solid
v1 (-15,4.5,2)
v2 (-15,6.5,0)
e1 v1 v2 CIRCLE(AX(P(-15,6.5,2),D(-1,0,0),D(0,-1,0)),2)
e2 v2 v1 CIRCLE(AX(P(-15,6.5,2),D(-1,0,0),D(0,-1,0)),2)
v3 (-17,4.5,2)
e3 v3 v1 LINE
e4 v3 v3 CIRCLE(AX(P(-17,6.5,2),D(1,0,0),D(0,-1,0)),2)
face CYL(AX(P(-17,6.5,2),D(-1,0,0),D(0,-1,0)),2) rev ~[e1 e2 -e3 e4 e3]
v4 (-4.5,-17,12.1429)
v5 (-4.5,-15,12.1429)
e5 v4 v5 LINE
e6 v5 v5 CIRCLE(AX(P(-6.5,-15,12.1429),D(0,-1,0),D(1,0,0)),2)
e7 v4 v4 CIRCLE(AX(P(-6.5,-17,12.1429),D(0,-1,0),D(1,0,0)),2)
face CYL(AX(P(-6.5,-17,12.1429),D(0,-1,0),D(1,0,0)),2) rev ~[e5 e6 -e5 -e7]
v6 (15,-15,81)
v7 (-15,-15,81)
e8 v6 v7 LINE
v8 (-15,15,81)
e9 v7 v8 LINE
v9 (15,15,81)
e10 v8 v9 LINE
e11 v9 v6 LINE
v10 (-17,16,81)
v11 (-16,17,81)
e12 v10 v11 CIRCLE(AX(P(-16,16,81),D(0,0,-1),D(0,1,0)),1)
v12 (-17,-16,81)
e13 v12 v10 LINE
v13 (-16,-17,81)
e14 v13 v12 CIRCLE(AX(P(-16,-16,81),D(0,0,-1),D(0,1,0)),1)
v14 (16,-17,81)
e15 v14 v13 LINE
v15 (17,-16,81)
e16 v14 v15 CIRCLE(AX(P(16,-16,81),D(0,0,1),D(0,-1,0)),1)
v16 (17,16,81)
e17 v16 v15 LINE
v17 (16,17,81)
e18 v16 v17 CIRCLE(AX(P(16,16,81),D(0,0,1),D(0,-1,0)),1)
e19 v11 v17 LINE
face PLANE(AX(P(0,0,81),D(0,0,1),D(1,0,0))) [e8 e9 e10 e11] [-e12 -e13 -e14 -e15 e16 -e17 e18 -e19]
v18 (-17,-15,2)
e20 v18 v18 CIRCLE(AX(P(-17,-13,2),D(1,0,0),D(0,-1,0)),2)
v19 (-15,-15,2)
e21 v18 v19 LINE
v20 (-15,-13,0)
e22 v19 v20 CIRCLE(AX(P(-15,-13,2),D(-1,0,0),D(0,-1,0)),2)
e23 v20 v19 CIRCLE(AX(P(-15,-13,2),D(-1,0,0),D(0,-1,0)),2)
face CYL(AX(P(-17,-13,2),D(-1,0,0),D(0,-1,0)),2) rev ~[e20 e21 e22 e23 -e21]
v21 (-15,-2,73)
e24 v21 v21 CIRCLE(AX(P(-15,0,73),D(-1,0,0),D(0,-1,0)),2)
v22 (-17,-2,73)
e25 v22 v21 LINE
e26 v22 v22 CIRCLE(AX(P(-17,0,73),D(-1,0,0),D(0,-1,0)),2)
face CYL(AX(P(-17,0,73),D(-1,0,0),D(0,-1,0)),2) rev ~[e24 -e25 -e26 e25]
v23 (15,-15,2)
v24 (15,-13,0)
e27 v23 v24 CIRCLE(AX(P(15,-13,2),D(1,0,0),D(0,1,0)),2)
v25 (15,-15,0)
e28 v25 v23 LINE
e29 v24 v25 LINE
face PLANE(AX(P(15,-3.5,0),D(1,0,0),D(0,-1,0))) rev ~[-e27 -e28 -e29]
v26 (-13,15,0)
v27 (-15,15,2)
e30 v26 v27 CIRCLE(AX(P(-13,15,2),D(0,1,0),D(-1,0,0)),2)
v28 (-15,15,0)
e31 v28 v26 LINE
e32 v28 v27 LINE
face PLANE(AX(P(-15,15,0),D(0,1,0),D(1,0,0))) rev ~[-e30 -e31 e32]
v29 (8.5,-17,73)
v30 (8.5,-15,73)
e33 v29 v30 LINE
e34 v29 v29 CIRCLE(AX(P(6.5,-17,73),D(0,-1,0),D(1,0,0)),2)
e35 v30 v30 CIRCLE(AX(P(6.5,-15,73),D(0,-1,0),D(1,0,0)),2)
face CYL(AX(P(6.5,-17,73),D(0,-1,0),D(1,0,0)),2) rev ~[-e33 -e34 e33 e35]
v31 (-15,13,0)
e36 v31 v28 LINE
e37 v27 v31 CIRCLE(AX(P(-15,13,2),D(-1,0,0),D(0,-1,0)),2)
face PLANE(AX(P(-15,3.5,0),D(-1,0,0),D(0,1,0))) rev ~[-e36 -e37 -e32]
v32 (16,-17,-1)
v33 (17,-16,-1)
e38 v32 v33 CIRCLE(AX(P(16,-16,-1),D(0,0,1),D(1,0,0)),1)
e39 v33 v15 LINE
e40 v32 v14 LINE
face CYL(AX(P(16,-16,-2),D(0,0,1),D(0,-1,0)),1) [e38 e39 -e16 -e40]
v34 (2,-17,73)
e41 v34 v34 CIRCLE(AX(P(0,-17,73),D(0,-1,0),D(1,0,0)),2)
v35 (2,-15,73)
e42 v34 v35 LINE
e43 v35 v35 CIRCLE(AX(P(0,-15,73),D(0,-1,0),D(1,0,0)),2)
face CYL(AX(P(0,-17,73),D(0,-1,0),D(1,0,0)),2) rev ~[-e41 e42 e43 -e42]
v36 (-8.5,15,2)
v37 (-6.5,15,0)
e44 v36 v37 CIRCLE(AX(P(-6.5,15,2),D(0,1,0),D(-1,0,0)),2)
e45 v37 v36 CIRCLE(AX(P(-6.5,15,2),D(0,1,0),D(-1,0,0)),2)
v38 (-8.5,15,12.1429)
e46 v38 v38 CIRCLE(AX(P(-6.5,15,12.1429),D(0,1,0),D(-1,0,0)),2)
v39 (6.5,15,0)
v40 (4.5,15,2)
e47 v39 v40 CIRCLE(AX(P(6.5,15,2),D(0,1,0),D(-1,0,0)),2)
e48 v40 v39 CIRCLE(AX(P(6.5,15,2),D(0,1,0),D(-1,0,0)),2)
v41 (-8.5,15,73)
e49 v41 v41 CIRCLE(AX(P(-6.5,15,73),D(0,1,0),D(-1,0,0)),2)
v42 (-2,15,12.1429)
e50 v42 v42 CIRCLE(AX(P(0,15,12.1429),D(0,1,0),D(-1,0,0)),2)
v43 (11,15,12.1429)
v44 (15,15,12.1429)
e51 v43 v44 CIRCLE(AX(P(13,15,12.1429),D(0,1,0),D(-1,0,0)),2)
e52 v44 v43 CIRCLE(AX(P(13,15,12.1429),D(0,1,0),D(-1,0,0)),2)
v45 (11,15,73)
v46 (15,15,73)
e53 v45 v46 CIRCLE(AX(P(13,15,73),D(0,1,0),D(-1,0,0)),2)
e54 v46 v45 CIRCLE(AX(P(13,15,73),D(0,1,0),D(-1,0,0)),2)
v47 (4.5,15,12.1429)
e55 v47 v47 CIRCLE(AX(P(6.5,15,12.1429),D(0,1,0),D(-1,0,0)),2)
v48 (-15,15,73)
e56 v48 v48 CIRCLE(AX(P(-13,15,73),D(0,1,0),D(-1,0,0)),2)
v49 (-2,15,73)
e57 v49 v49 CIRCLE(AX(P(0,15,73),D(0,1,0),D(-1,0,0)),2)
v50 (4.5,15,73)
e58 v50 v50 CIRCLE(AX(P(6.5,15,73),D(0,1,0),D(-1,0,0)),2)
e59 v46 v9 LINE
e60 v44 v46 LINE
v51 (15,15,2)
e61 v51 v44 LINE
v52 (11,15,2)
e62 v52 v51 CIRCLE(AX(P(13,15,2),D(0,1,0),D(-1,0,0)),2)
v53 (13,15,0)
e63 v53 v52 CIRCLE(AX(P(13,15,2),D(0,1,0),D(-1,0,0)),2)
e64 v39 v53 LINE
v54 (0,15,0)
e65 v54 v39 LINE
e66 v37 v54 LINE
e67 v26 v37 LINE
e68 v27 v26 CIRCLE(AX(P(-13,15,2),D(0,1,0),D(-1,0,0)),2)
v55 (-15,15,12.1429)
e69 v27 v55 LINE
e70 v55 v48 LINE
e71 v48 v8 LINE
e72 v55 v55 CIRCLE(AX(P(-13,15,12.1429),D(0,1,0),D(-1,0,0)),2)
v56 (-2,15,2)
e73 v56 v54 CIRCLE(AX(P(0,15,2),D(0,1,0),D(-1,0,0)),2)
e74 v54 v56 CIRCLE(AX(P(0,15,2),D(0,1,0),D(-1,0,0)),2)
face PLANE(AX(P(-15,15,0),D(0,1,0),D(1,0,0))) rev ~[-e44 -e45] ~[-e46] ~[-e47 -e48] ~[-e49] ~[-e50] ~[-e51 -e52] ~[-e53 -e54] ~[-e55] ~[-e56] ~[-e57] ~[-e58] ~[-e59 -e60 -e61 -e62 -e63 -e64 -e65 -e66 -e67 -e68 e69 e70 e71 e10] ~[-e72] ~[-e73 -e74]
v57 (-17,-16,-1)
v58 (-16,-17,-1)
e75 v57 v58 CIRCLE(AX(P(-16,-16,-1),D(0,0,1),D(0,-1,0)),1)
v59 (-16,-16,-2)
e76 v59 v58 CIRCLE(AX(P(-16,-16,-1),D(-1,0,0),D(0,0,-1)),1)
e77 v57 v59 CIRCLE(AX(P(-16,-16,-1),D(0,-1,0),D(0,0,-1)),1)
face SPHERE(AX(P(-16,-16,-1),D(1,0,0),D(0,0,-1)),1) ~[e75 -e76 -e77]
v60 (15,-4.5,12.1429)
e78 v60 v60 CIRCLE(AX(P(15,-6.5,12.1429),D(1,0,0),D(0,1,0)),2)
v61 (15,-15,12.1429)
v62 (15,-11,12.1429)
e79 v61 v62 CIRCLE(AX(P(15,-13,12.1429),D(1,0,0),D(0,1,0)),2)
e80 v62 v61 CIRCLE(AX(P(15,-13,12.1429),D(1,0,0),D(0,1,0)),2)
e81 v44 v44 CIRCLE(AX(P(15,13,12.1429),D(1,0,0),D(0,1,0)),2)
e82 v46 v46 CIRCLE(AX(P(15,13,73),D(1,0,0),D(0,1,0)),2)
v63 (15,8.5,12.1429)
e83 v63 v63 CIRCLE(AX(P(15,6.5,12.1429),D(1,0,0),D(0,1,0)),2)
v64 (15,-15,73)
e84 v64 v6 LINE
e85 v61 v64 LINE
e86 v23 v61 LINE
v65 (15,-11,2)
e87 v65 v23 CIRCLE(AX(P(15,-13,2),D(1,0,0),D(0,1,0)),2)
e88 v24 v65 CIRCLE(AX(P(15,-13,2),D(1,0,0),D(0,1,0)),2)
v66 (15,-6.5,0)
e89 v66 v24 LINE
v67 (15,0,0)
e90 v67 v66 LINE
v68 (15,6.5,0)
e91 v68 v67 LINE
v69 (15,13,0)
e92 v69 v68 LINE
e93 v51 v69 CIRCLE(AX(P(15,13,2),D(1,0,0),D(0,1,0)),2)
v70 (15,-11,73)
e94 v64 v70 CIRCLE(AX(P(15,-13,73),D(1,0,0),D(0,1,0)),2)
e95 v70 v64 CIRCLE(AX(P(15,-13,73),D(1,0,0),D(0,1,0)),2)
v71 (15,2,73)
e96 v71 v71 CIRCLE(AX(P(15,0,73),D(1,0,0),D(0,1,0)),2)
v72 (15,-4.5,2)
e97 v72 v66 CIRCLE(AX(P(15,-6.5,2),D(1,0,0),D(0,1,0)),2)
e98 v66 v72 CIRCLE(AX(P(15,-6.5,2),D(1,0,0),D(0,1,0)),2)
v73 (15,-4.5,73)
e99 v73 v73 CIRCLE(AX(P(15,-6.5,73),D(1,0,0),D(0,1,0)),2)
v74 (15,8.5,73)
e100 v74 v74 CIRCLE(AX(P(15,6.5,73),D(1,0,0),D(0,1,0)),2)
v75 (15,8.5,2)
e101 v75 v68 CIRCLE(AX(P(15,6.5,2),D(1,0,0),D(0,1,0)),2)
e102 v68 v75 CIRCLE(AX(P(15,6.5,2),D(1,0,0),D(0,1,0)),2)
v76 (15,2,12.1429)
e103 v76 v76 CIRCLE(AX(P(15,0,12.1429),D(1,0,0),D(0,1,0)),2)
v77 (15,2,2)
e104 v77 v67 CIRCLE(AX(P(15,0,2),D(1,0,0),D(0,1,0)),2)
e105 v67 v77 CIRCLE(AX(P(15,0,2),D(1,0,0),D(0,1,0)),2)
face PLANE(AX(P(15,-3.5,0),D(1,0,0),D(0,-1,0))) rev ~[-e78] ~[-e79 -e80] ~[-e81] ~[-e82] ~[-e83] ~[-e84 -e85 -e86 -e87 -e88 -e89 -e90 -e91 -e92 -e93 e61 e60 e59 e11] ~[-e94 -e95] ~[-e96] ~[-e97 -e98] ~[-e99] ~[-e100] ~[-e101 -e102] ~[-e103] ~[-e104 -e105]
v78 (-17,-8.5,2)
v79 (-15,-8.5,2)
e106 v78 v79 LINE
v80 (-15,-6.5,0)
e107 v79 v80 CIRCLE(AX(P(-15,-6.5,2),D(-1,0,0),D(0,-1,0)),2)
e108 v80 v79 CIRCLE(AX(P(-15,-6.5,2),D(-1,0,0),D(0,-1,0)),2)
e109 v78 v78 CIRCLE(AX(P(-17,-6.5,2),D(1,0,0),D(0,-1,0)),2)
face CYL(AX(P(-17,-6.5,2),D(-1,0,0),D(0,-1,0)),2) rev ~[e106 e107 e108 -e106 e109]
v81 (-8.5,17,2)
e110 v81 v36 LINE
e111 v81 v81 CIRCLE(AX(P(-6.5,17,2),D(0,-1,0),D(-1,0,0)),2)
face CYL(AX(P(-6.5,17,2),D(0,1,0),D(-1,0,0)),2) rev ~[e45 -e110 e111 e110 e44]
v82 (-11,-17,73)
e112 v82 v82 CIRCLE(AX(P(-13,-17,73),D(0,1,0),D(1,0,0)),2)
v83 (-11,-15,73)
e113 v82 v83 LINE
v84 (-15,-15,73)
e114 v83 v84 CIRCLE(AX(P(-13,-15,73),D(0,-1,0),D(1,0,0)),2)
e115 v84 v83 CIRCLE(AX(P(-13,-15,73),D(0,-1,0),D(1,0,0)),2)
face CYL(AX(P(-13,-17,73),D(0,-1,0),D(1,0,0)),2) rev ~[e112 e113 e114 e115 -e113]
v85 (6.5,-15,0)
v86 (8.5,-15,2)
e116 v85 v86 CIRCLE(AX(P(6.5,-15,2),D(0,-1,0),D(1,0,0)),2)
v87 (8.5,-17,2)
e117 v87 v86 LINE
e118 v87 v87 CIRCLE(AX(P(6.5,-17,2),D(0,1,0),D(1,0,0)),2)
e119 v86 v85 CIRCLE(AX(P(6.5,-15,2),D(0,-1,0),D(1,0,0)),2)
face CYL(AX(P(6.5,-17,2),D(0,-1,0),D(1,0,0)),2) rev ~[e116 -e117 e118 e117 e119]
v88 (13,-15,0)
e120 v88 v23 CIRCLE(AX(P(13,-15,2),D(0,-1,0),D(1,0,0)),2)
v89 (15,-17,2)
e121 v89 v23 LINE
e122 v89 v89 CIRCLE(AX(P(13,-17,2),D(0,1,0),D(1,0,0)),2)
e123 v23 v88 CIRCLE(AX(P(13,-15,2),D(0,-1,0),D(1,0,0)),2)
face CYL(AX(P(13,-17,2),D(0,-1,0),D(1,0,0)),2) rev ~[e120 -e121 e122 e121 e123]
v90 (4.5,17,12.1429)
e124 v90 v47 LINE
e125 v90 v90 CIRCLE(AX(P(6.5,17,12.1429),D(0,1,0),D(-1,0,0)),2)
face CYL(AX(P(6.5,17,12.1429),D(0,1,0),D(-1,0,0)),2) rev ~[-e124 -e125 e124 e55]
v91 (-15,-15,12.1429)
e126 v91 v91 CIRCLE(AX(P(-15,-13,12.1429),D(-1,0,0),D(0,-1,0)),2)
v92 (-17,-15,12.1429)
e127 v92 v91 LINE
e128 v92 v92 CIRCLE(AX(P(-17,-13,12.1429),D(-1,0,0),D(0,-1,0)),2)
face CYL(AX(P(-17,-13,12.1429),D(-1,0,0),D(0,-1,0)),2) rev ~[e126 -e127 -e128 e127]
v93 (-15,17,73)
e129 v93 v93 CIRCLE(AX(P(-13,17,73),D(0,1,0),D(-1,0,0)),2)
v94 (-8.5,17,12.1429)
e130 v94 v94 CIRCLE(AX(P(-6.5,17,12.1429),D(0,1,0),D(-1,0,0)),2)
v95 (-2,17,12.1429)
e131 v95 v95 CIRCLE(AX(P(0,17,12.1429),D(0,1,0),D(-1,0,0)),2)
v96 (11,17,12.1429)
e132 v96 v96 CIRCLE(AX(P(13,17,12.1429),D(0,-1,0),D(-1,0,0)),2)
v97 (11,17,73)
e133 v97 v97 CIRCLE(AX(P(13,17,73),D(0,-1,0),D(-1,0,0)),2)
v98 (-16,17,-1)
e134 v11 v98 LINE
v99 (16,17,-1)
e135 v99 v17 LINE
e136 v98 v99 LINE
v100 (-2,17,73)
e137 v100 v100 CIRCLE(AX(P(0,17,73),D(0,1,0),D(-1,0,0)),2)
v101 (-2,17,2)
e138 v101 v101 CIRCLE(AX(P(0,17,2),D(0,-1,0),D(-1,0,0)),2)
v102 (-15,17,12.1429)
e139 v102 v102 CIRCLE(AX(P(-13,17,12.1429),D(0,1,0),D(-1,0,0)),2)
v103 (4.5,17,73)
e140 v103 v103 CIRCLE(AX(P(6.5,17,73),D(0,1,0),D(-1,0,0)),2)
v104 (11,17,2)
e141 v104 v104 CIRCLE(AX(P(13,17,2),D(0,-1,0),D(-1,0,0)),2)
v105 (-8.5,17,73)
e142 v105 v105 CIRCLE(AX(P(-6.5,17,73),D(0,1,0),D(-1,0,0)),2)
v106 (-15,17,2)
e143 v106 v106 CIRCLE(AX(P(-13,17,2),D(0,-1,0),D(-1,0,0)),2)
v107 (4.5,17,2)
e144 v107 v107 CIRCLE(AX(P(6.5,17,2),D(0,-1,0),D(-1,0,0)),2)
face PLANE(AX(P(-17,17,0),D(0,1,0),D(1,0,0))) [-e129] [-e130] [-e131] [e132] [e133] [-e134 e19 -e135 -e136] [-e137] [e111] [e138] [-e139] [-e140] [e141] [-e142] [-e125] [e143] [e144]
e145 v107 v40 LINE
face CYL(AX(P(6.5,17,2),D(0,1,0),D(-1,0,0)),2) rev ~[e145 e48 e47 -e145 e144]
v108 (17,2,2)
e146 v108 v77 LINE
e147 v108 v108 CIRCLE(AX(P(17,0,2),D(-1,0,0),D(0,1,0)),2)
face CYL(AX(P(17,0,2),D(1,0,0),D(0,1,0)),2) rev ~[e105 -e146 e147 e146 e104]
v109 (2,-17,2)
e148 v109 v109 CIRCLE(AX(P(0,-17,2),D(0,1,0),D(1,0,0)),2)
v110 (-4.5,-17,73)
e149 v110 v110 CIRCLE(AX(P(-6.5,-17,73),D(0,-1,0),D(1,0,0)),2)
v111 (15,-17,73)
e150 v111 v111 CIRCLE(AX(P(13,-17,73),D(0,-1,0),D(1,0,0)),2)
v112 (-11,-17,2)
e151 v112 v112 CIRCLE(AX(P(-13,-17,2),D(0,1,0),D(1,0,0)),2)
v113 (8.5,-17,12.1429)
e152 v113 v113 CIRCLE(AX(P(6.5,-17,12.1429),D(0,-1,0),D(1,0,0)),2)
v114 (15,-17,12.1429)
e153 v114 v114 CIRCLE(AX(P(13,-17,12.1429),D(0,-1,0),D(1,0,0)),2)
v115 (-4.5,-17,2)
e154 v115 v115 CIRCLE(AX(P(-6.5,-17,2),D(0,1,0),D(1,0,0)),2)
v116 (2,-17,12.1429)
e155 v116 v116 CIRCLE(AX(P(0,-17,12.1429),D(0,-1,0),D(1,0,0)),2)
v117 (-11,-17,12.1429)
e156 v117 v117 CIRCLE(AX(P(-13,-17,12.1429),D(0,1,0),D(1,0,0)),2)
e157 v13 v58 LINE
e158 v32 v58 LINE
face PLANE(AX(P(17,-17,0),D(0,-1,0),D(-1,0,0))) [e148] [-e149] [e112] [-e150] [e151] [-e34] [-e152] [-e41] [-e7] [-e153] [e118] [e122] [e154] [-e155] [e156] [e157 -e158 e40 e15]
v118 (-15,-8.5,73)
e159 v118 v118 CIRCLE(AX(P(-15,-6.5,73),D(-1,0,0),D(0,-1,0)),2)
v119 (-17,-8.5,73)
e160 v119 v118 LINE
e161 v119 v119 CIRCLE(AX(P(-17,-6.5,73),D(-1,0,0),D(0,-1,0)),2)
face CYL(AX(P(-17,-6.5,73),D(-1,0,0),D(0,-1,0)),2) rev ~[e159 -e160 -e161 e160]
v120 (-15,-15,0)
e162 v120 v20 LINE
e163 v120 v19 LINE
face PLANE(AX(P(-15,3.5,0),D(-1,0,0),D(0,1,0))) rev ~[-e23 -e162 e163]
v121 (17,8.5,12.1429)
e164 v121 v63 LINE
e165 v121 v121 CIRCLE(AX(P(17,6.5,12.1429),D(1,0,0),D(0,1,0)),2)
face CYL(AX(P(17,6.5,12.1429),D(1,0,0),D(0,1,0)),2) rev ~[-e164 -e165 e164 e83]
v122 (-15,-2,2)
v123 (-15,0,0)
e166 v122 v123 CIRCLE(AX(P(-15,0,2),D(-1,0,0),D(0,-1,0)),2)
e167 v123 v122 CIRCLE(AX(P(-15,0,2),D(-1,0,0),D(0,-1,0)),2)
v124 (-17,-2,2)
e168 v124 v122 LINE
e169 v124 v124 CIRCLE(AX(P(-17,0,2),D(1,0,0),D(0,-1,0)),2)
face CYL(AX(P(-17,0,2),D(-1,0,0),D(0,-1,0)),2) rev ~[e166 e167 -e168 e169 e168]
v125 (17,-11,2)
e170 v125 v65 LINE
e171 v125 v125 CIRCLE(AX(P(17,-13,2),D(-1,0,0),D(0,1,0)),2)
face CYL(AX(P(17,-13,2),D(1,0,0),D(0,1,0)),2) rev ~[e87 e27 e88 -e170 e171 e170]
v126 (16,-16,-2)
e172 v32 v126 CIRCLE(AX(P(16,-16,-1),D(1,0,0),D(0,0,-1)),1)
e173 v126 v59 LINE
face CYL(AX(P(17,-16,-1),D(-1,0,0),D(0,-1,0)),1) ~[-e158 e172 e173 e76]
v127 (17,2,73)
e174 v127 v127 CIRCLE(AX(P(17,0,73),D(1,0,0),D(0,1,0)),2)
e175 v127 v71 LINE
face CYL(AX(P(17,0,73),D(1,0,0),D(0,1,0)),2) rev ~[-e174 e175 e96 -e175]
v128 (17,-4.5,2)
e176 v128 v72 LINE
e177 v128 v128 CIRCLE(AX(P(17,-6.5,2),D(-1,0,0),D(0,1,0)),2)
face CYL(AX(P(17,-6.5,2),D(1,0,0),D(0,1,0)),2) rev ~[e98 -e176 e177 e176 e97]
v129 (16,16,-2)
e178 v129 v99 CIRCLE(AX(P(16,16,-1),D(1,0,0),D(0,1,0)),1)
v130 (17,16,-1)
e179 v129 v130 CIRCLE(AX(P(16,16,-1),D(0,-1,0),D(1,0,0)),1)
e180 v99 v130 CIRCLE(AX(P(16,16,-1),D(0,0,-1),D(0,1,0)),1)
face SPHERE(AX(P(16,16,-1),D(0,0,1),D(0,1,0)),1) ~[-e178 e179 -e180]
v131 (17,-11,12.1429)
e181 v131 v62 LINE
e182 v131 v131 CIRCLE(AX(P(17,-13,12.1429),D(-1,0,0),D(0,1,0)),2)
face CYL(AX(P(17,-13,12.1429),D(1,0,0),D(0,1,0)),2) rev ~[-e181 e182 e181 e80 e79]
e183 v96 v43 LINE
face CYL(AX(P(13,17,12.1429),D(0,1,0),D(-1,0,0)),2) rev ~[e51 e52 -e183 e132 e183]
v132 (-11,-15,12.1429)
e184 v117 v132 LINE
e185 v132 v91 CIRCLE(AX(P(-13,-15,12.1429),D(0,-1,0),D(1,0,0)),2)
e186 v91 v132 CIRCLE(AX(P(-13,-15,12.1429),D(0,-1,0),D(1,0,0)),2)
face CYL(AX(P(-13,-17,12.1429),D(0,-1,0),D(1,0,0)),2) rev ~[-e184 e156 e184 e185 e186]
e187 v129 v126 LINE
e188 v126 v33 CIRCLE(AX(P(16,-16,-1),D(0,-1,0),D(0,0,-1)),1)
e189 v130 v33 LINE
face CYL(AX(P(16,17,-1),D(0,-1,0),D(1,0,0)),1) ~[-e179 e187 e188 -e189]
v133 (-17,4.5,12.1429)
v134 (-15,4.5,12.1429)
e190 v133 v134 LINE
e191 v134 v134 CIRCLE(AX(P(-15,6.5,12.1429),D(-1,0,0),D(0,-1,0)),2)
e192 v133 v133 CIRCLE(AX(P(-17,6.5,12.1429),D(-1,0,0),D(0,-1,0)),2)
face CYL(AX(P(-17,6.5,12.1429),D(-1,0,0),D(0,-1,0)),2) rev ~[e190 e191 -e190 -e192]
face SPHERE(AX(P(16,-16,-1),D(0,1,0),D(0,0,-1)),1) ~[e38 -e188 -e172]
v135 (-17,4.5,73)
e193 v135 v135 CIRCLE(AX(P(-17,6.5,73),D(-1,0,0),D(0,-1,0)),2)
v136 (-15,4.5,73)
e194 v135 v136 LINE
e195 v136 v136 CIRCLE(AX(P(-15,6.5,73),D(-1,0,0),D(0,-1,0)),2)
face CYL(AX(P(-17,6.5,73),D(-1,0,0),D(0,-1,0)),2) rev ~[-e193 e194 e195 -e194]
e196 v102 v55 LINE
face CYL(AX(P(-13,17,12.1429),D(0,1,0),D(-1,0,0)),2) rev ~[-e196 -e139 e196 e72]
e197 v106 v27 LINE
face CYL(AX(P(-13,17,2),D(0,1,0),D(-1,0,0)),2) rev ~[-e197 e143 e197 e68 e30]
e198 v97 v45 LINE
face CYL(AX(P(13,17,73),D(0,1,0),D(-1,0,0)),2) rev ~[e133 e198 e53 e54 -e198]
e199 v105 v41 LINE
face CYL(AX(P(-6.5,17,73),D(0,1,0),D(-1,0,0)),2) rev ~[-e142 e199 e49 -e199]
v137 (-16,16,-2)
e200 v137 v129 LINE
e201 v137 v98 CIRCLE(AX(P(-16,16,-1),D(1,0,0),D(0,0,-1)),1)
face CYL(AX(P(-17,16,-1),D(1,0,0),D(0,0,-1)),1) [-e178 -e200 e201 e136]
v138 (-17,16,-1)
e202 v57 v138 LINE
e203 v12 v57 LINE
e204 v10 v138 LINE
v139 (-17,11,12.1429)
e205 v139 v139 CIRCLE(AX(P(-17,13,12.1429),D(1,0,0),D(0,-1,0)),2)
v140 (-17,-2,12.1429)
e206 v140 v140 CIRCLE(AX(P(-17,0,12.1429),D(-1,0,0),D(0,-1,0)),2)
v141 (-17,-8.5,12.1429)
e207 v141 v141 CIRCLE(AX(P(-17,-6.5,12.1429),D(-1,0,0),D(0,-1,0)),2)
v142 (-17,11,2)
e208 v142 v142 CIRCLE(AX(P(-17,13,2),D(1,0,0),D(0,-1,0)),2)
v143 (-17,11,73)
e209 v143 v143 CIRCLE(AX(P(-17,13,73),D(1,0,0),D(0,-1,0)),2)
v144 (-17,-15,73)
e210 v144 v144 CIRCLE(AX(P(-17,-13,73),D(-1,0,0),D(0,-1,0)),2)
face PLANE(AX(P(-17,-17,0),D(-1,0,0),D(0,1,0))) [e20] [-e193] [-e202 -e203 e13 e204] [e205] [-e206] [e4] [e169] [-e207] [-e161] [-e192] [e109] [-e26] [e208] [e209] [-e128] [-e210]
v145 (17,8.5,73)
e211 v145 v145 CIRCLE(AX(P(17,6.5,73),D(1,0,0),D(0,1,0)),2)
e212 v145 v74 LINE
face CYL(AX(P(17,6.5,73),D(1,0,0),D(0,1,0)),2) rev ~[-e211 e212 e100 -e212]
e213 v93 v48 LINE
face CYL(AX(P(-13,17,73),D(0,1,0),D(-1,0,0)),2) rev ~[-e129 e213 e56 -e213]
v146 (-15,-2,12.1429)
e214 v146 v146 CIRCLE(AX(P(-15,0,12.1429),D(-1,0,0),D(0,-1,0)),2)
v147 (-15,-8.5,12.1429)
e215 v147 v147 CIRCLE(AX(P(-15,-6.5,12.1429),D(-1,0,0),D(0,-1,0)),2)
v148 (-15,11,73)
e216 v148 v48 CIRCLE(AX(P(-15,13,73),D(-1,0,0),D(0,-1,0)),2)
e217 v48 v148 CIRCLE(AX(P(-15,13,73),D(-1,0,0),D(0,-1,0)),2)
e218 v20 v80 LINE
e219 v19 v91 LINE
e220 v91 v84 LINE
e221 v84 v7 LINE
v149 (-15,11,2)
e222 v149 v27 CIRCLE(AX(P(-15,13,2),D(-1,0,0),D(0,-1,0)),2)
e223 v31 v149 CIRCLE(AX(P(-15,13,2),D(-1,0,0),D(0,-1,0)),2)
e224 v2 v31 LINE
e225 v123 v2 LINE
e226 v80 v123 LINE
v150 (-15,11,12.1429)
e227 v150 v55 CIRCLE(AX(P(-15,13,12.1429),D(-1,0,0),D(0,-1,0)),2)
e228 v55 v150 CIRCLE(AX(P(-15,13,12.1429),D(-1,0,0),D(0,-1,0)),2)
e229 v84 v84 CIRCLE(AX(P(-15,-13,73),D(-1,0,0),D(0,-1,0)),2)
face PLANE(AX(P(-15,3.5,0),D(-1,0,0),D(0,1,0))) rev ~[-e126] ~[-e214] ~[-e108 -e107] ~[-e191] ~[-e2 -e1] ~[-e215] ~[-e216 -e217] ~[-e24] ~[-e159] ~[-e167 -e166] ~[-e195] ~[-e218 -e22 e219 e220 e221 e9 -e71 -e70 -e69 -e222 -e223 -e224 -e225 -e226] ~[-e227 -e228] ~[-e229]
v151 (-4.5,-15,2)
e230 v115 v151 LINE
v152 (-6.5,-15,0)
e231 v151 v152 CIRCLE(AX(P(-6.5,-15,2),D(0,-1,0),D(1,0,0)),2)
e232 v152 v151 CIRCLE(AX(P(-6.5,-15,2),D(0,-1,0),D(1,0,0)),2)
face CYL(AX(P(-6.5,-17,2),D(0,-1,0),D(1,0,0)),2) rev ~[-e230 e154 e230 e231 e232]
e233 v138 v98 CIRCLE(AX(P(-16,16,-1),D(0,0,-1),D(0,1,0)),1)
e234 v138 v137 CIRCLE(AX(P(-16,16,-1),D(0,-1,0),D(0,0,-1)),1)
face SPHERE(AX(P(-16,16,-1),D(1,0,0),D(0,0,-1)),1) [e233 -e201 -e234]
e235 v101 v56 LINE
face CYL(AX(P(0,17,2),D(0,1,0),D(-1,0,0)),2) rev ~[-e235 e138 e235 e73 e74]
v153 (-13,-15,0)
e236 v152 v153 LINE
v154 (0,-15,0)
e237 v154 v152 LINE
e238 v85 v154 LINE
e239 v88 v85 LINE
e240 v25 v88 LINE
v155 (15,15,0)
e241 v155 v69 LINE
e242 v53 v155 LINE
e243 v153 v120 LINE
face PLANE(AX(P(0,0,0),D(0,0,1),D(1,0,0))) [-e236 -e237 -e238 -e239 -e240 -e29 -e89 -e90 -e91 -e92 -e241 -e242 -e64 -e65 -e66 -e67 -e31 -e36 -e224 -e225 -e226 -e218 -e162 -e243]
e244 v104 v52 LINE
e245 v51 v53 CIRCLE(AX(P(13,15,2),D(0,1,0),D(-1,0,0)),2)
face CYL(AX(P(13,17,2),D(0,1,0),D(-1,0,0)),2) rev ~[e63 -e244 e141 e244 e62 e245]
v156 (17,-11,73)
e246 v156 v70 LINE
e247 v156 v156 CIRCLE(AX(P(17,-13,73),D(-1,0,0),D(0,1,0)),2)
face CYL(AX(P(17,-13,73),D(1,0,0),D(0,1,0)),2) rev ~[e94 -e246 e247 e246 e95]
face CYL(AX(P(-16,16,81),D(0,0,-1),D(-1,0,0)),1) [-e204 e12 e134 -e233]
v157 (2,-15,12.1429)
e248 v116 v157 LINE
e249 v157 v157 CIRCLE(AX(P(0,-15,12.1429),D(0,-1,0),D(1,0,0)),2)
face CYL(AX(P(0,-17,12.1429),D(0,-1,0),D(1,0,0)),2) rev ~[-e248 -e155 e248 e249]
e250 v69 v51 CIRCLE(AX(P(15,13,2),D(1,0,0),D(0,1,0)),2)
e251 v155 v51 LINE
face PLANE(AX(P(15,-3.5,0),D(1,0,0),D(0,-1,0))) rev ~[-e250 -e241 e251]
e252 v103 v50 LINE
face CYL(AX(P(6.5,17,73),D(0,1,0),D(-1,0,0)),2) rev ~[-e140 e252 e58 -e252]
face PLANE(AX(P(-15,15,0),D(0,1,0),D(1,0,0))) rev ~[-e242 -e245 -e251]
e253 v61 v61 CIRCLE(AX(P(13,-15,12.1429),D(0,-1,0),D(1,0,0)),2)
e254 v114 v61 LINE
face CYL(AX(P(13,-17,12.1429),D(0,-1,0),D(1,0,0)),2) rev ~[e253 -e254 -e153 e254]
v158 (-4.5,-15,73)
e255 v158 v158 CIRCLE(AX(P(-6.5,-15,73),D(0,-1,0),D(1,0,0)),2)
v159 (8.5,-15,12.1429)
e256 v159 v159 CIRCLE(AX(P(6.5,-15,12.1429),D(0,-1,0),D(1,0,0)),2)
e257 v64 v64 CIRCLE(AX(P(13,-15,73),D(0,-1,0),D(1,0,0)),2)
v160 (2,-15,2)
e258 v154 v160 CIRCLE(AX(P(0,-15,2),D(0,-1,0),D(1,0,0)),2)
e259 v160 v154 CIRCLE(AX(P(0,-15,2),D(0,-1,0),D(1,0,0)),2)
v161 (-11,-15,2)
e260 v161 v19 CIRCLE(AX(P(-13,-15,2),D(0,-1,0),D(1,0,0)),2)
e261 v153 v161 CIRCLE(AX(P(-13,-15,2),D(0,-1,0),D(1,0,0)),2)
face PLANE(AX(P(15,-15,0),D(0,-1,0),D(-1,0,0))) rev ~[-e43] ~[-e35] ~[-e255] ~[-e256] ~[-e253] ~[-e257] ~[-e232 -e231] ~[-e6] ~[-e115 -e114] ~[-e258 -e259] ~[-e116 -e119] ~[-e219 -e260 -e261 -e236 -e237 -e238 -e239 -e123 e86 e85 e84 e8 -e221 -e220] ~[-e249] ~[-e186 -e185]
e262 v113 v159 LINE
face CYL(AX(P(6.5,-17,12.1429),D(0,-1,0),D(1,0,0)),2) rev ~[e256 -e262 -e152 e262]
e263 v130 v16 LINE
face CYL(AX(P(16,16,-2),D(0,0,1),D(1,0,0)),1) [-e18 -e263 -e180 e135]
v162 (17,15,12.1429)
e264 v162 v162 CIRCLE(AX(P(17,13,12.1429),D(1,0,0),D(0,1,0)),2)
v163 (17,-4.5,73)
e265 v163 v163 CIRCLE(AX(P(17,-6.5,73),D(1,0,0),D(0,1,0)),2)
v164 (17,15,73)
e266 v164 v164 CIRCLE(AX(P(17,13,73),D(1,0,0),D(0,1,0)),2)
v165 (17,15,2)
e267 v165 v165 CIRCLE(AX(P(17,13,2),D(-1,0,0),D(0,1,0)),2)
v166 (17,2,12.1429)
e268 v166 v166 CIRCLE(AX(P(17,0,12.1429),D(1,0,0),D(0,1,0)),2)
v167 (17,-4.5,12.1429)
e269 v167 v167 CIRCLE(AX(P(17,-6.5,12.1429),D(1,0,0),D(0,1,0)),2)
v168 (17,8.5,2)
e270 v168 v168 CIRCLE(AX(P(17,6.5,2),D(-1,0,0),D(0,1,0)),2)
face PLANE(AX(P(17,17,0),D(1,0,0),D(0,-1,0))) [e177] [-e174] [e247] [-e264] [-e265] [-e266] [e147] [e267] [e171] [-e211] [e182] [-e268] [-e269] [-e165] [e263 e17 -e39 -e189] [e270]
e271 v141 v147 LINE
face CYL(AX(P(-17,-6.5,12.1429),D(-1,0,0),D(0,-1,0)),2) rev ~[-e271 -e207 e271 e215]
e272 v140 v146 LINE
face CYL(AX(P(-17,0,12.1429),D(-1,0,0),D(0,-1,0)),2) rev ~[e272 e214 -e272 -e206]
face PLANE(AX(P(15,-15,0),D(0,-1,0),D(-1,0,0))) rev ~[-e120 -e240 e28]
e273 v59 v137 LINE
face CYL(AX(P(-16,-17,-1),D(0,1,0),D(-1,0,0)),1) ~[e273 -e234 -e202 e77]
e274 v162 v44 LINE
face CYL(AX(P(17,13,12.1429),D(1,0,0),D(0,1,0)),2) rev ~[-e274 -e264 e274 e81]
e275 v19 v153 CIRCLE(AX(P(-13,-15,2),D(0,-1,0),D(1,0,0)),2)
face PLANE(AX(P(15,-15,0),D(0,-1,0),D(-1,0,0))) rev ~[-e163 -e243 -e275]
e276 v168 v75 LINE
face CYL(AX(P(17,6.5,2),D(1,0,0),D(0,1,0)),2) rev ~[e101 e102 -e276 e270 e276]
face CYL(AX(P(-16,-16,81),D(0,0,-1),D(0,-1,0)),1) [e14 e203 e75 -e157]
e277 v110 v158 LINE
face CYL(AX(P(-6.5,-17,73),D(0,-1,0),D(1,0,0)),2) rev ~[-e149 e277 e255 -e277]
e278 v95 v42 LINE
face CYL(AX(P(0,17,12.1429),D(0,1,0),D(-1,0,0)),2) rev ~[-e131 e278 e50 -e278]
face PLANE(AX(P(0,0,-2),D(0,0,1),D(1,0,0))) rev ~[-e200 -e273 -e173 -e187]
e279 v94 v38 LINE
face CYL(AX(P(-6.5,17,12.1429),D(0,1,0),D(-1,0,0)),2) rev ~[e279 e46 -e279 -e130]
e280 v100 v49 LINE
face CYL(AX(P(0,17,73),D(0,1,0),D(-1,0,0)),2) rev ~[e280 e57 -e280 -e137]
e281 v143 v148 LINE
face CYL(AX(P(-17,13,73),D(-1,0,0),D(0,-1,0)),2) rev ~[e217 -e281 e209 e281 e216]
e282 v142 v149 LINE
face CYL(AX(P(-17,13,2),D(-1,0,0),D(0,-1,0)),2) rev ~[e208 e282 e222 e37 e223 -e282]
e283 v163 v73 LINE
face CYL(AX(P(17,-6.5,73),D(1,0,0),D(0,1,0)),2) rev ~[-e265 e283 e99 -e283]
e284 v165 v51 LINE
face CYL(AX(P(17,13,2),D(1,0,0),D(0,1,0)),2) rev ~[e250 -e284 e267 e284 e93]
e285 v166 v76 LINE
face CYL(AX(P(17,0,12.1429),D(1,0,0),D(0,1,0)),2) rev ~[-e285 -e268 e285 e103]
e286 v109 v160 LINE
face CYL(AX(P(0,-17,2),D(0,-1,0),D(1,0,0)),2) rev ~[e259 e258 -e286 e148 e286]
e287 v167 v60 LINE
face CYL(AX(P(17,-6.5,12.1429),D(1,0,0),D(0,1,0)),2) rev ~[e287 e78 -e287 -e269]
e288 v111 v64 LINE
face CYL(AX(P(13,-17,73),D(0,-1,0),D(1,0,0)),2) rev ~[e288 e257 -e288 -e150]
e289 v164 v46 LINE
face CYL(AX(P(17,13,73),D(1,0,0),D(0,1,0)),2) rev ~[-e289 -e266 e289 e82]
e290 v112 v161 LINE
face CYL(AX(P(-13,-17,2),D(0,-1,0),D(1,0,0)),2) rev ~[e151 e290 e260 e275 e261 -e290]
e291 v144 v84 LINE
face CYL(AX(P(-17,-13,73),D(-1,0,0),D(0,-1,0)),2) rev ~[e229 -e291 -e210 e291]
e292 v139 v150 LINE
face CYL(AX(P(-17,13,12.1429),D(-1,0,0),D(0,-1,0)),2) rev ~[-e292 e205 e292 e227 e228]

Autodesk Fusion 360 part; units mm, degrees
sketch "Skizze1" plane through (0, 0, 0) normal (0, 0, 1) x (1, 0, 0)
  line L0 (-15, 15) -> (15, 15)
  line L1 (15, 15) -> (15, -15)
  line L2 (15, -15) -> (-15, -15)
  line L3 (-15, -15) -> (-15, 15)
  line L4 (17, -17) -> (-17, -17)
  line L5 (-17, -17) -> (-17, 17)
  line L6 (-17, 17) -> (17, 17)
  line L7 (17, 17) -> (17, -17)
  circle A0 centre (-10.16, 6.35) radius 3.5
  circle A1 centre (10.16, 6.35) radius 3.5
  circle A2 centre (-10.16, -6.35) radius 3.5
  circle A3 centre (10.16, -6.35) radius 3.5
  circle A4 centre (-10.16, 6.35) radius 0.75
  circle A5 centre (10.16, 6.35) radius 0.75
  circle A6 centre (10.16, -6.35) radius 0.75
  circle A7 centre (-10.16, -6.35) radius 0.75
  line L8 (-15, 3.5) -> (15, 3.5)
  line L9 (15, 3.5) -> (15, -3.5)
  line L10 (15, -3.5) -> (-15, -3.5)
  line L11 (-15, -3.5) -> (-15, 3.5)
  dimension "d3" = 30
  dimension "d4" = 30
  dimension "d5" = 15
  dimension "d6" = 15
  dimension "d7" = -2
  dimension "d8" = 7
  dimension "d9" = 7
  dimension "d10" = 7
  dimension "d11" = 7
  dimension "d12" = 20.32
  dimension "d16" = 4.84
  dimension "d19" = 4.84
  dimension "d20" = 12.7
  dimension "d21" = 20.32
  dimension "d22" = 12.7
  dimension "d23" = 8.65
  dimension "d25" = 8.65
  dimension "d26" = 1.5
  dimension "d27" = 1.5
  dimension "d28" = 1.5
  dimension "d29" = 1.5
  dimension "d140" = 7
  dimension "d141" = 3.5
extrude "Extrusion1" add sketch "Skizze1" against normal blind 2 contours L0 L1 L3 A0 A1 L8 | L1 L3 A0 A1 A2 A3 L8 L9 L10 L11 | L1 L2 L3 A2 A3 L10 | A0 L8 | A0 L8 | A1 L8 | A1 L8 | A2 L10 | A2 L10 | A3 L10 | A3 L10 | L4 L5 L6 L7 | A4 | A5 | A6 | A7
extrude "Extrusion2" add sketch "Skizze1" along normal blind 81 contours L4 L5 L6 L7
sketch "Skizze10" plane through (17, 0, 0) normal (1, 0, 0) x (0, 1, 0)
  line L0 (-15, 0) -> (15, 0)
  circle A0 centre (13, 2) radius 2
  circle A1 centre (6.5, 2) radius 2
  circle A2 centre (0, 2) radius 2
  circle A3 centre (-6.5, 2) radius 2
  circle A4 centre (-13, 2) radius 2
  circle A5 centre (13, 12.1429) radius 2
  circle A6 centre (6.5, 12.1429) radius 2
  circle A7 centre (0, 12.1429) radius 2
  circle A8 centre (-6.5, 12.1429) radius 2
  circle A9 centre (-13, 12.1429) radius 2
  circle A10 centre (13, 22.2857) radius 2
  circle A11 centre (6.5, 22.2857) radius 2
  circle A12 centre (0, 22.2857) radius 2
  circle A13 centre (-6.5, 22.2857) radius 2
  circle A14 centre (-13, 22.2857) radius 2
  circle A15 centre (13, 32.4286) radius 2
  circle A16 centre (6.5, 32.4286) radius 2
  circle A17 centre (0, 32.4286) radius 2
  circle A18 centre (-6.5, 32.4286) radius 2
  circle A19 centre (-13, 32.4286) radius 2
  circle A20 centre (13, 42.5714) radius 2
  circle A21 centre (6.5, 42.5714) radius 2
  circle A22 centre (0, 42.5714) radius 2
  circle A23 centre (-6.5, 42.5714) radius 2
  circle A24 centre (-13, 42.5714) radius 2
  circle A25 centre (13, 52.7143) radius 2
  circle A26 centre (6.5, 52.7143) radius 2
  circle A27 centre (0, 52.7143) radius 2
  circle A28 centre (-6.5, 52.7143) radius 2
  circle A29 centre (-13, 52.7143) radius 2
  circle A30 centre (13, 62.8571) radius 2
  circle A31 centre (6.5, 62.8571) radius 2
  circle A32 centre (0, 62.8571) radius 2
  circle A33 centre (-6.5, 62.8571) radius 2
  circle A34 centre (-13, 62.8571) radius 2
  circle A35 centre (13, 73) radius 2
  circle A36 centre (6.5, 73) radius 2
  circle A37 centre (0, 73) radius 2
  circle A38 centre (-6.5, 73) radius 2
  circle A39 centre (-13, 73) radius 2
  line L1 (-17, 81) -> (-17, -2)
  line L2 (-17, -2) -> (17, -2)
  line L3 (17, -2) -> (17, 81)
  line L4 (17, 81) -> (-17, 81)
  line L5 (15, 10) -> (-15, 10)
  line L6 (-15, 10) -> (-15, 81)
  line L7 (-15, 81) -> (15, 81)
  line L8 (15, 81) -> (15, 10)
  line L9 (15, 10) -> (-15, 10)
  line L10 (-15, 10) -> (-15, 6)
  line L11 (-15, 6) -> (15, 6)
  line L12 (15, 6) -> (15, 10)
  line L13 (15, 0) -> (15, 81)
  dimension "d146" = 4
  dimension "d151" = -26
  dimension "d152" = 71
  dimension "d197" = 2
  dimension "d198" = 2
  dimension "d199" = 71
  dimension "d200" = 4
  dimension "d201" = 2
  dimension "d202" = 2
sketch "Skizze16" plane through (0, 17, 0) normal (0, 1, 0) x (-1, 0, 0)
  line L0 (-17, 81) -> (-17, -2)
  line L1 (-17, -2) -> (17, -2)
  line L2 (17, -2) -> (17, 81)
  line L3 (17, 81) -> (-17, 81)
  line L4 (-17, 81) -> (-17, -2)
  circle A0 centre (0, 52.7143) radius 2
  circle A1 centre (-6.5, 22.2857) radius 2
  circle A2 centre (13, 62.8571) radius 2
  circle A3 centre (6.5, 52.7143) radius 2
  line L5 (15, 6) -> (15, 10)
  circle A4 centre (0, 62.8571) radius 2
  circle A5 centre (6.5, 42.5714) radius 2
  circle A6 centre (-6.5, 62.8571) radius 2
  line L6 (-15, 0) -> (15, 0)
  circle A7 centre (13, 42.5714) radius 2
  circle A8 centre (13, 22.2857) radius 2
  circle A9 centre (-6.5, 2) radius 2
  circle A10 centre (6.5, 2) radius 2
  circle A11 centre (-6.5, 73) radius 2
  circle A12 centre (-13, 2) radius 2
  circle A13 centre (13, 73) radius 2
  circle A14 centre (6.5, 73) radius 2
  circle A15 centre (-13, 42.5714) radius 2
  circle A16 centre (13, 2) radius 2
  circle A17 centre (-6.5, 42.5714) radius 2
  line L7 (15, 0) -> (15, 81)
  circle A18 centre (-6.5, 52.7143) radius 2
  circle A19 centre (6.5, 32.4286) radius 2
  circle A20 centre (6.5, 62.8571) radius 2
  circle A21 centre (6.5, 12.1429) radius 2
  circle A22 centre (13, 52.7143) radius 2
  line L8 (15, 10) -> (-15, 10)
  circle A23 centre (-13, 12.1429) radius 2
  circle A24 centre (0, 2) radius 2
  circle A25 centre (-6.5, 12.1429) radius 2
  circle A26 centre (-13, 73) radius 2
  line L9 (-15, 81) -> (15, 81)
  line L10 (17, 81) -> (-17, 81)
  line L11 (-17, -2) -> (17, -2)
  circle A27 centre (13, 12.1429) radius 2
  circle A28 centre (0, 73) radius 2
  circle A29 centre (0, 12.1429) radius 2
  line L12 (-15, 6) -> (15, 6)
  circle A30 centre (13, 32.4286) radius 2
  line L13 (15, 10) -> (-15, 10)
  line L14 (-15, 10) -> (-15, 6)
  circle A31 centre (-6.5, 32.4286) radius 2
  circle A32 centre (-13, 62.8571) radius 2
  circle A33 centre (0, 22.2857) radius 2
  circle A34 centre (6.5, 22.2857) radius 2
  circle A35 centre (-13, 22.2857) radius 2
  circle A36 centre (0, 32.4286) radius 2
  circle A37 centre (-13, 32.4286) radius 2
  circle A38 centre (-13, 52.7143) radius 2
  line L15 (15, 81) -> (15, 10)
  line L16 (17, -2) -> (17, 81)
  line L17 (-15, 10) -> (-15, 81)
  circle A39 centre (0, 42.5714) radius 2
  dimension "d205" = -26
  dimension "d206" = 71
  dimension "d207" = 4
  dimension "d208" = 2
  dimension "d209" = 2
  dimension "d210" = 71
  dimension "d211" = 4
  dimension "d212" = 2
  dimension "d213" = 2
sketch "Skizze17" plane through (-17, 0, 0) normal (-1, 0, 0) x (0, -1, 0)
  line L0 (-17, 81) -> (-17, -2)
  line L1 (-17, -2) -> (17, -2)
  line L2 (17, -2) -> (17, 81)
  line L3 (17, 81) -> (-17, 81)
  line L4 (-17, 81) -> (-17, -2)
  circle A0 centre (0, 52.7143) radius 2
  circle A1 centre (-6.5, 22.2857) radius 2
  circle A2 centre (13, 62.8571) radius 2
  circle A3 centre (6.5, 52.7143) radius 2
  line L5 (15, 6) -> (15, 10)
  circle A4 centre (0, 62.8571) radius 2
  circle A5 centre (6.5, 42.5714) radius 2
  circle A6 centre (-6.5, 62.8571) radius 2
  line L6 (-15, 0) -> (15, 0)
  circle A7 centre (13, 42.5714) radius 2
  circle A8 centre (13, 22.2857) radius 2
  circle A9 centre (-6.5, 2) radius 2
  circle A10 centre (6.5, 2) radius 2
  circle A11 centre (-6.5, 73) radius 2
  circle A12 centre (-13, 2) radius 2
  circle A13 centre (13, 73) radius 2
  circle A14 centre (6.5, 73) radius 2
  circle A15 centre (-13, 42.5714) radius 2
  circle A16 centre (13, 2) radius 2
  circle A17 centre (-6.5, 42.5714) radius 2
  line L7 (15, 0) -> (15, 81)
  circle A18 centre (-6.5, 52.7143) radius 2
  circle A19 centre (6.5, 32.4286) radius 2
  circle A20 centre (6.5, 62.8571) radius 2
  circle A21 centre (6.5, 12.1429) radius 2
  circle A22 centre (13, 52.7143) radius 2
  line L8 (15, 10) -> (-15, 10)
  circle A23 centre (-13, 12.1429) radius 2
  circle A24 centre (0, 2) radius 2
  circle A25 centre (-6.5, 12.1429) radius 2
  circle A26 centre (-13, 73) radius 2
  line L9 (-15, 81) -> (15, 81)
  line L10 (17, 81) -> (-17, 81)
  line L11 (-17, -2) -> (17, -2)
  circle A27 centre (13, 12.1429) radius 2
  circle A28 centre (0, 73) radius 2
  circle A29 centre (0, 12.1429) radius 2
  line L12 (-15, 6) -> (15, 6)
  circle A30 centre (13, 32.4286) radius 2
  line L13 (15, 10) -> (-15, 10)
  line L14 (-15, 10) -> (-15, 6)
  circle A31 centre (-6.5, 32.4286) radius 2
  circle A32 centre (-13, 62.8571) radius 2
  circle A33 centre (0, 22.2857) radius 2
  circle A34 centre (6.5, 22.2857) radius 2
  circle A35 centre (-13, 22.2857) radius 2
  circle A36 centre (0, 32.4286) radius 2
  circle A37 centre (-13, 32.4286) radius 2
  circle A38 centre (-13, 52.7143) radius 2
  line L15 (15, 81) -> (15, 10)
  line L16 (17, -2) -> (17, 81)
  line L17 (-15, 10) -> (-15, 81)
  circle A39 centre (0, 42.5714) radius 2
  dimension "d216" = -26
  dimension "d217" = 71
  dimension "d218" = 4
  dimension "d219" = 2
  dimension "d220" = 2
  dimension "d221" = 71
  dimension "d222" = 4
  dimension "d223" = 2
  dimension "d224" = 2
sketch "Skizze18" plane through (0, -17, 0) normal (0, -1, 0) x (1, 0, 0)
  line L0 (-17, 81) -> (-17, -2)
  line L1 (-17, -2) -> (17, -2)
  line L2 (17, -2) -> (17, 81)
  line L3 (17, 81) -> (-17, 81)
  line L4 (-17, 81) -> (-17, -2)
  circle A0 centre (0, 52.7143) radius 2
  circle A1 centre (-6.5, 22.2857) radius 2
  circle A2 centre (13, 62.8571) radius 2
  circle A3 centre (6.5, 52.7143) radius 2
  line L5 (15, 6) -> (15, 10)
  circle A4 centre (0, 62.8571) radius 2
  circle A5 centre (6.5, 42.5714) radius 2
  circle A6 centre (-6.5, 62.8571) radius 2
  line L6 (-15, 0) -> (15, 0)
  circle A7 centre (13, 42.5714) radius 2
  circle A8 centre (13, 22.2857) radius 2
  circle A9 centre (-6.5, 2) radius 2
  circle A10 centre (6.5, 2) radius 2
  circle A11 centre (-6.5, 73) radius 2
  circle A12 centre (-13, 2) radius 2
  circle A13 centre (13, 73) radius 2
  circle A14 centre (6.5, 73) radius 2
  circle A15 centre (-13, 42.5714) radius 2
  circle A16 centre (13, 2) radius 2
  circle A17 centre (-6.5, 42.5714) radius 2
  line L7 (15, 0) -> (15, 81)
  circle A18 centre (-6.5, 52.7143) radius 2
  circle A19 centre (6.5, 32.4286) radius 2
  circle A20 centre (6.5, 62.8571) radius 2
  circle A21 centre (6.5, 12.1429) radius 2
  circle A22 centre (13, 52.7143) radius 2
  line L8 (15, 10) -> (-15, 10)
  circle A23 centre (-13, 12.1429) radius 2
  circle A24 centre (0, 2) radius 2
  circle A25 centre (-6.5, 12.1429) radius 2
  circle A26 centre (-13, 73) radius 2
  line L9 (-15, 81) -> (15, 81)
  line L10 (17, 81) -> (-17, 81)
  line L11 (-17, -2) -> (17, -2)
  circle A27 centre (13, 12.1429) radius 2
  circle A28 centre (0, 73) radius 2
  circle A29 centre (0, 12.1429) radius 2
  line L12 (-15, 6) -> (15, 6)
  circle A30 centre (13, 32.4286) radius 2
  line L13 (15, 10) -> (-15, 10)
  line L14 (-15, 10) -> (-15, 6)
  circle A31 centre (-6.5, 32.4286) radius 2
  circle A32 centre (-13, 62.8571) radius 2
  circle A33 centre (0, 22.2857) radius 2
  circle A34 centre (6.5, 22.2857) radius 2
  circle A35 centre (-13, 22.2857) radius 2
  circle A36 centre (0, 32.4286) radius 2
  circle A37 centre (-13, 32.4286) radius 2
  circle A38 centre (-13, 52.7143) radius 2
  line L15 (15, 81) -> (15, 10)
  line L16 (17, -2) -> (17, 81)
  line L17 (-15, 10) -> (-15, 81)
  circle A39 centre (0, 42.5714) radius 2
  dimension "d227" = -26
  dimension "d228" = 71
  dimension "d229" = 4
  dimension "d230" = 2
  dimension "d231" = 2
  dimension "d232" = 71
  dimension "d233" = 4
  dimension "d234" = 2
  dimension "d235" = 2
extrude "Extrusion13" cut sketch "Skizze16" against normal blind 2 contours A12 | A9 | A24 | A10 | A16 | A26 | A23 | A27 | A13 | A11 | A14 | A21 | A25 | A28 | A29
extrude "Extrusion14" cut sketch "Skizze10" against normal blind 2 contours A3 | A2 | A1 | A0 | A4 | A5 | A35 | A39 | A9 | A6 | A7 | A8 | A36 | A37 | A38
extrude "Extrusion15" cut sketch "Skizze18" against normal blind 2 contours A12 | A9 | A24 | A10 | A16 | A26 | A23 | A27 | A13 | A11 | A14 | A21 | A25 | A28 | A29
extrude "Extrusion16" cut sketch "Skizze17" against normal blind 2 contours A12 | A9 | A24 | A10 | A16 | A26 | A23 | A27 | A13 | A11 | A14 | A21 | A25 | A28 | A29
fillet "Abrundung3" radius 1 8 edges at (17, 17, 39.5) (0, 17, -2) (17, 0, -2) (0, -17, -2) (-17, 0, -2) (-17, -17, 39.5) (17, -17, 39.5) (-17, 17, 39.5)
equation "d16 = ( 30 mm - 0.8 in ) / 2"
equation "d19 = ( 30 mm - 0.8 in ) / 2"
equation "d23 = ( 30 mm - 0.5 in ) / 2"
equation "d25 = ( 30 mm - 0.5 in ) / 2"
